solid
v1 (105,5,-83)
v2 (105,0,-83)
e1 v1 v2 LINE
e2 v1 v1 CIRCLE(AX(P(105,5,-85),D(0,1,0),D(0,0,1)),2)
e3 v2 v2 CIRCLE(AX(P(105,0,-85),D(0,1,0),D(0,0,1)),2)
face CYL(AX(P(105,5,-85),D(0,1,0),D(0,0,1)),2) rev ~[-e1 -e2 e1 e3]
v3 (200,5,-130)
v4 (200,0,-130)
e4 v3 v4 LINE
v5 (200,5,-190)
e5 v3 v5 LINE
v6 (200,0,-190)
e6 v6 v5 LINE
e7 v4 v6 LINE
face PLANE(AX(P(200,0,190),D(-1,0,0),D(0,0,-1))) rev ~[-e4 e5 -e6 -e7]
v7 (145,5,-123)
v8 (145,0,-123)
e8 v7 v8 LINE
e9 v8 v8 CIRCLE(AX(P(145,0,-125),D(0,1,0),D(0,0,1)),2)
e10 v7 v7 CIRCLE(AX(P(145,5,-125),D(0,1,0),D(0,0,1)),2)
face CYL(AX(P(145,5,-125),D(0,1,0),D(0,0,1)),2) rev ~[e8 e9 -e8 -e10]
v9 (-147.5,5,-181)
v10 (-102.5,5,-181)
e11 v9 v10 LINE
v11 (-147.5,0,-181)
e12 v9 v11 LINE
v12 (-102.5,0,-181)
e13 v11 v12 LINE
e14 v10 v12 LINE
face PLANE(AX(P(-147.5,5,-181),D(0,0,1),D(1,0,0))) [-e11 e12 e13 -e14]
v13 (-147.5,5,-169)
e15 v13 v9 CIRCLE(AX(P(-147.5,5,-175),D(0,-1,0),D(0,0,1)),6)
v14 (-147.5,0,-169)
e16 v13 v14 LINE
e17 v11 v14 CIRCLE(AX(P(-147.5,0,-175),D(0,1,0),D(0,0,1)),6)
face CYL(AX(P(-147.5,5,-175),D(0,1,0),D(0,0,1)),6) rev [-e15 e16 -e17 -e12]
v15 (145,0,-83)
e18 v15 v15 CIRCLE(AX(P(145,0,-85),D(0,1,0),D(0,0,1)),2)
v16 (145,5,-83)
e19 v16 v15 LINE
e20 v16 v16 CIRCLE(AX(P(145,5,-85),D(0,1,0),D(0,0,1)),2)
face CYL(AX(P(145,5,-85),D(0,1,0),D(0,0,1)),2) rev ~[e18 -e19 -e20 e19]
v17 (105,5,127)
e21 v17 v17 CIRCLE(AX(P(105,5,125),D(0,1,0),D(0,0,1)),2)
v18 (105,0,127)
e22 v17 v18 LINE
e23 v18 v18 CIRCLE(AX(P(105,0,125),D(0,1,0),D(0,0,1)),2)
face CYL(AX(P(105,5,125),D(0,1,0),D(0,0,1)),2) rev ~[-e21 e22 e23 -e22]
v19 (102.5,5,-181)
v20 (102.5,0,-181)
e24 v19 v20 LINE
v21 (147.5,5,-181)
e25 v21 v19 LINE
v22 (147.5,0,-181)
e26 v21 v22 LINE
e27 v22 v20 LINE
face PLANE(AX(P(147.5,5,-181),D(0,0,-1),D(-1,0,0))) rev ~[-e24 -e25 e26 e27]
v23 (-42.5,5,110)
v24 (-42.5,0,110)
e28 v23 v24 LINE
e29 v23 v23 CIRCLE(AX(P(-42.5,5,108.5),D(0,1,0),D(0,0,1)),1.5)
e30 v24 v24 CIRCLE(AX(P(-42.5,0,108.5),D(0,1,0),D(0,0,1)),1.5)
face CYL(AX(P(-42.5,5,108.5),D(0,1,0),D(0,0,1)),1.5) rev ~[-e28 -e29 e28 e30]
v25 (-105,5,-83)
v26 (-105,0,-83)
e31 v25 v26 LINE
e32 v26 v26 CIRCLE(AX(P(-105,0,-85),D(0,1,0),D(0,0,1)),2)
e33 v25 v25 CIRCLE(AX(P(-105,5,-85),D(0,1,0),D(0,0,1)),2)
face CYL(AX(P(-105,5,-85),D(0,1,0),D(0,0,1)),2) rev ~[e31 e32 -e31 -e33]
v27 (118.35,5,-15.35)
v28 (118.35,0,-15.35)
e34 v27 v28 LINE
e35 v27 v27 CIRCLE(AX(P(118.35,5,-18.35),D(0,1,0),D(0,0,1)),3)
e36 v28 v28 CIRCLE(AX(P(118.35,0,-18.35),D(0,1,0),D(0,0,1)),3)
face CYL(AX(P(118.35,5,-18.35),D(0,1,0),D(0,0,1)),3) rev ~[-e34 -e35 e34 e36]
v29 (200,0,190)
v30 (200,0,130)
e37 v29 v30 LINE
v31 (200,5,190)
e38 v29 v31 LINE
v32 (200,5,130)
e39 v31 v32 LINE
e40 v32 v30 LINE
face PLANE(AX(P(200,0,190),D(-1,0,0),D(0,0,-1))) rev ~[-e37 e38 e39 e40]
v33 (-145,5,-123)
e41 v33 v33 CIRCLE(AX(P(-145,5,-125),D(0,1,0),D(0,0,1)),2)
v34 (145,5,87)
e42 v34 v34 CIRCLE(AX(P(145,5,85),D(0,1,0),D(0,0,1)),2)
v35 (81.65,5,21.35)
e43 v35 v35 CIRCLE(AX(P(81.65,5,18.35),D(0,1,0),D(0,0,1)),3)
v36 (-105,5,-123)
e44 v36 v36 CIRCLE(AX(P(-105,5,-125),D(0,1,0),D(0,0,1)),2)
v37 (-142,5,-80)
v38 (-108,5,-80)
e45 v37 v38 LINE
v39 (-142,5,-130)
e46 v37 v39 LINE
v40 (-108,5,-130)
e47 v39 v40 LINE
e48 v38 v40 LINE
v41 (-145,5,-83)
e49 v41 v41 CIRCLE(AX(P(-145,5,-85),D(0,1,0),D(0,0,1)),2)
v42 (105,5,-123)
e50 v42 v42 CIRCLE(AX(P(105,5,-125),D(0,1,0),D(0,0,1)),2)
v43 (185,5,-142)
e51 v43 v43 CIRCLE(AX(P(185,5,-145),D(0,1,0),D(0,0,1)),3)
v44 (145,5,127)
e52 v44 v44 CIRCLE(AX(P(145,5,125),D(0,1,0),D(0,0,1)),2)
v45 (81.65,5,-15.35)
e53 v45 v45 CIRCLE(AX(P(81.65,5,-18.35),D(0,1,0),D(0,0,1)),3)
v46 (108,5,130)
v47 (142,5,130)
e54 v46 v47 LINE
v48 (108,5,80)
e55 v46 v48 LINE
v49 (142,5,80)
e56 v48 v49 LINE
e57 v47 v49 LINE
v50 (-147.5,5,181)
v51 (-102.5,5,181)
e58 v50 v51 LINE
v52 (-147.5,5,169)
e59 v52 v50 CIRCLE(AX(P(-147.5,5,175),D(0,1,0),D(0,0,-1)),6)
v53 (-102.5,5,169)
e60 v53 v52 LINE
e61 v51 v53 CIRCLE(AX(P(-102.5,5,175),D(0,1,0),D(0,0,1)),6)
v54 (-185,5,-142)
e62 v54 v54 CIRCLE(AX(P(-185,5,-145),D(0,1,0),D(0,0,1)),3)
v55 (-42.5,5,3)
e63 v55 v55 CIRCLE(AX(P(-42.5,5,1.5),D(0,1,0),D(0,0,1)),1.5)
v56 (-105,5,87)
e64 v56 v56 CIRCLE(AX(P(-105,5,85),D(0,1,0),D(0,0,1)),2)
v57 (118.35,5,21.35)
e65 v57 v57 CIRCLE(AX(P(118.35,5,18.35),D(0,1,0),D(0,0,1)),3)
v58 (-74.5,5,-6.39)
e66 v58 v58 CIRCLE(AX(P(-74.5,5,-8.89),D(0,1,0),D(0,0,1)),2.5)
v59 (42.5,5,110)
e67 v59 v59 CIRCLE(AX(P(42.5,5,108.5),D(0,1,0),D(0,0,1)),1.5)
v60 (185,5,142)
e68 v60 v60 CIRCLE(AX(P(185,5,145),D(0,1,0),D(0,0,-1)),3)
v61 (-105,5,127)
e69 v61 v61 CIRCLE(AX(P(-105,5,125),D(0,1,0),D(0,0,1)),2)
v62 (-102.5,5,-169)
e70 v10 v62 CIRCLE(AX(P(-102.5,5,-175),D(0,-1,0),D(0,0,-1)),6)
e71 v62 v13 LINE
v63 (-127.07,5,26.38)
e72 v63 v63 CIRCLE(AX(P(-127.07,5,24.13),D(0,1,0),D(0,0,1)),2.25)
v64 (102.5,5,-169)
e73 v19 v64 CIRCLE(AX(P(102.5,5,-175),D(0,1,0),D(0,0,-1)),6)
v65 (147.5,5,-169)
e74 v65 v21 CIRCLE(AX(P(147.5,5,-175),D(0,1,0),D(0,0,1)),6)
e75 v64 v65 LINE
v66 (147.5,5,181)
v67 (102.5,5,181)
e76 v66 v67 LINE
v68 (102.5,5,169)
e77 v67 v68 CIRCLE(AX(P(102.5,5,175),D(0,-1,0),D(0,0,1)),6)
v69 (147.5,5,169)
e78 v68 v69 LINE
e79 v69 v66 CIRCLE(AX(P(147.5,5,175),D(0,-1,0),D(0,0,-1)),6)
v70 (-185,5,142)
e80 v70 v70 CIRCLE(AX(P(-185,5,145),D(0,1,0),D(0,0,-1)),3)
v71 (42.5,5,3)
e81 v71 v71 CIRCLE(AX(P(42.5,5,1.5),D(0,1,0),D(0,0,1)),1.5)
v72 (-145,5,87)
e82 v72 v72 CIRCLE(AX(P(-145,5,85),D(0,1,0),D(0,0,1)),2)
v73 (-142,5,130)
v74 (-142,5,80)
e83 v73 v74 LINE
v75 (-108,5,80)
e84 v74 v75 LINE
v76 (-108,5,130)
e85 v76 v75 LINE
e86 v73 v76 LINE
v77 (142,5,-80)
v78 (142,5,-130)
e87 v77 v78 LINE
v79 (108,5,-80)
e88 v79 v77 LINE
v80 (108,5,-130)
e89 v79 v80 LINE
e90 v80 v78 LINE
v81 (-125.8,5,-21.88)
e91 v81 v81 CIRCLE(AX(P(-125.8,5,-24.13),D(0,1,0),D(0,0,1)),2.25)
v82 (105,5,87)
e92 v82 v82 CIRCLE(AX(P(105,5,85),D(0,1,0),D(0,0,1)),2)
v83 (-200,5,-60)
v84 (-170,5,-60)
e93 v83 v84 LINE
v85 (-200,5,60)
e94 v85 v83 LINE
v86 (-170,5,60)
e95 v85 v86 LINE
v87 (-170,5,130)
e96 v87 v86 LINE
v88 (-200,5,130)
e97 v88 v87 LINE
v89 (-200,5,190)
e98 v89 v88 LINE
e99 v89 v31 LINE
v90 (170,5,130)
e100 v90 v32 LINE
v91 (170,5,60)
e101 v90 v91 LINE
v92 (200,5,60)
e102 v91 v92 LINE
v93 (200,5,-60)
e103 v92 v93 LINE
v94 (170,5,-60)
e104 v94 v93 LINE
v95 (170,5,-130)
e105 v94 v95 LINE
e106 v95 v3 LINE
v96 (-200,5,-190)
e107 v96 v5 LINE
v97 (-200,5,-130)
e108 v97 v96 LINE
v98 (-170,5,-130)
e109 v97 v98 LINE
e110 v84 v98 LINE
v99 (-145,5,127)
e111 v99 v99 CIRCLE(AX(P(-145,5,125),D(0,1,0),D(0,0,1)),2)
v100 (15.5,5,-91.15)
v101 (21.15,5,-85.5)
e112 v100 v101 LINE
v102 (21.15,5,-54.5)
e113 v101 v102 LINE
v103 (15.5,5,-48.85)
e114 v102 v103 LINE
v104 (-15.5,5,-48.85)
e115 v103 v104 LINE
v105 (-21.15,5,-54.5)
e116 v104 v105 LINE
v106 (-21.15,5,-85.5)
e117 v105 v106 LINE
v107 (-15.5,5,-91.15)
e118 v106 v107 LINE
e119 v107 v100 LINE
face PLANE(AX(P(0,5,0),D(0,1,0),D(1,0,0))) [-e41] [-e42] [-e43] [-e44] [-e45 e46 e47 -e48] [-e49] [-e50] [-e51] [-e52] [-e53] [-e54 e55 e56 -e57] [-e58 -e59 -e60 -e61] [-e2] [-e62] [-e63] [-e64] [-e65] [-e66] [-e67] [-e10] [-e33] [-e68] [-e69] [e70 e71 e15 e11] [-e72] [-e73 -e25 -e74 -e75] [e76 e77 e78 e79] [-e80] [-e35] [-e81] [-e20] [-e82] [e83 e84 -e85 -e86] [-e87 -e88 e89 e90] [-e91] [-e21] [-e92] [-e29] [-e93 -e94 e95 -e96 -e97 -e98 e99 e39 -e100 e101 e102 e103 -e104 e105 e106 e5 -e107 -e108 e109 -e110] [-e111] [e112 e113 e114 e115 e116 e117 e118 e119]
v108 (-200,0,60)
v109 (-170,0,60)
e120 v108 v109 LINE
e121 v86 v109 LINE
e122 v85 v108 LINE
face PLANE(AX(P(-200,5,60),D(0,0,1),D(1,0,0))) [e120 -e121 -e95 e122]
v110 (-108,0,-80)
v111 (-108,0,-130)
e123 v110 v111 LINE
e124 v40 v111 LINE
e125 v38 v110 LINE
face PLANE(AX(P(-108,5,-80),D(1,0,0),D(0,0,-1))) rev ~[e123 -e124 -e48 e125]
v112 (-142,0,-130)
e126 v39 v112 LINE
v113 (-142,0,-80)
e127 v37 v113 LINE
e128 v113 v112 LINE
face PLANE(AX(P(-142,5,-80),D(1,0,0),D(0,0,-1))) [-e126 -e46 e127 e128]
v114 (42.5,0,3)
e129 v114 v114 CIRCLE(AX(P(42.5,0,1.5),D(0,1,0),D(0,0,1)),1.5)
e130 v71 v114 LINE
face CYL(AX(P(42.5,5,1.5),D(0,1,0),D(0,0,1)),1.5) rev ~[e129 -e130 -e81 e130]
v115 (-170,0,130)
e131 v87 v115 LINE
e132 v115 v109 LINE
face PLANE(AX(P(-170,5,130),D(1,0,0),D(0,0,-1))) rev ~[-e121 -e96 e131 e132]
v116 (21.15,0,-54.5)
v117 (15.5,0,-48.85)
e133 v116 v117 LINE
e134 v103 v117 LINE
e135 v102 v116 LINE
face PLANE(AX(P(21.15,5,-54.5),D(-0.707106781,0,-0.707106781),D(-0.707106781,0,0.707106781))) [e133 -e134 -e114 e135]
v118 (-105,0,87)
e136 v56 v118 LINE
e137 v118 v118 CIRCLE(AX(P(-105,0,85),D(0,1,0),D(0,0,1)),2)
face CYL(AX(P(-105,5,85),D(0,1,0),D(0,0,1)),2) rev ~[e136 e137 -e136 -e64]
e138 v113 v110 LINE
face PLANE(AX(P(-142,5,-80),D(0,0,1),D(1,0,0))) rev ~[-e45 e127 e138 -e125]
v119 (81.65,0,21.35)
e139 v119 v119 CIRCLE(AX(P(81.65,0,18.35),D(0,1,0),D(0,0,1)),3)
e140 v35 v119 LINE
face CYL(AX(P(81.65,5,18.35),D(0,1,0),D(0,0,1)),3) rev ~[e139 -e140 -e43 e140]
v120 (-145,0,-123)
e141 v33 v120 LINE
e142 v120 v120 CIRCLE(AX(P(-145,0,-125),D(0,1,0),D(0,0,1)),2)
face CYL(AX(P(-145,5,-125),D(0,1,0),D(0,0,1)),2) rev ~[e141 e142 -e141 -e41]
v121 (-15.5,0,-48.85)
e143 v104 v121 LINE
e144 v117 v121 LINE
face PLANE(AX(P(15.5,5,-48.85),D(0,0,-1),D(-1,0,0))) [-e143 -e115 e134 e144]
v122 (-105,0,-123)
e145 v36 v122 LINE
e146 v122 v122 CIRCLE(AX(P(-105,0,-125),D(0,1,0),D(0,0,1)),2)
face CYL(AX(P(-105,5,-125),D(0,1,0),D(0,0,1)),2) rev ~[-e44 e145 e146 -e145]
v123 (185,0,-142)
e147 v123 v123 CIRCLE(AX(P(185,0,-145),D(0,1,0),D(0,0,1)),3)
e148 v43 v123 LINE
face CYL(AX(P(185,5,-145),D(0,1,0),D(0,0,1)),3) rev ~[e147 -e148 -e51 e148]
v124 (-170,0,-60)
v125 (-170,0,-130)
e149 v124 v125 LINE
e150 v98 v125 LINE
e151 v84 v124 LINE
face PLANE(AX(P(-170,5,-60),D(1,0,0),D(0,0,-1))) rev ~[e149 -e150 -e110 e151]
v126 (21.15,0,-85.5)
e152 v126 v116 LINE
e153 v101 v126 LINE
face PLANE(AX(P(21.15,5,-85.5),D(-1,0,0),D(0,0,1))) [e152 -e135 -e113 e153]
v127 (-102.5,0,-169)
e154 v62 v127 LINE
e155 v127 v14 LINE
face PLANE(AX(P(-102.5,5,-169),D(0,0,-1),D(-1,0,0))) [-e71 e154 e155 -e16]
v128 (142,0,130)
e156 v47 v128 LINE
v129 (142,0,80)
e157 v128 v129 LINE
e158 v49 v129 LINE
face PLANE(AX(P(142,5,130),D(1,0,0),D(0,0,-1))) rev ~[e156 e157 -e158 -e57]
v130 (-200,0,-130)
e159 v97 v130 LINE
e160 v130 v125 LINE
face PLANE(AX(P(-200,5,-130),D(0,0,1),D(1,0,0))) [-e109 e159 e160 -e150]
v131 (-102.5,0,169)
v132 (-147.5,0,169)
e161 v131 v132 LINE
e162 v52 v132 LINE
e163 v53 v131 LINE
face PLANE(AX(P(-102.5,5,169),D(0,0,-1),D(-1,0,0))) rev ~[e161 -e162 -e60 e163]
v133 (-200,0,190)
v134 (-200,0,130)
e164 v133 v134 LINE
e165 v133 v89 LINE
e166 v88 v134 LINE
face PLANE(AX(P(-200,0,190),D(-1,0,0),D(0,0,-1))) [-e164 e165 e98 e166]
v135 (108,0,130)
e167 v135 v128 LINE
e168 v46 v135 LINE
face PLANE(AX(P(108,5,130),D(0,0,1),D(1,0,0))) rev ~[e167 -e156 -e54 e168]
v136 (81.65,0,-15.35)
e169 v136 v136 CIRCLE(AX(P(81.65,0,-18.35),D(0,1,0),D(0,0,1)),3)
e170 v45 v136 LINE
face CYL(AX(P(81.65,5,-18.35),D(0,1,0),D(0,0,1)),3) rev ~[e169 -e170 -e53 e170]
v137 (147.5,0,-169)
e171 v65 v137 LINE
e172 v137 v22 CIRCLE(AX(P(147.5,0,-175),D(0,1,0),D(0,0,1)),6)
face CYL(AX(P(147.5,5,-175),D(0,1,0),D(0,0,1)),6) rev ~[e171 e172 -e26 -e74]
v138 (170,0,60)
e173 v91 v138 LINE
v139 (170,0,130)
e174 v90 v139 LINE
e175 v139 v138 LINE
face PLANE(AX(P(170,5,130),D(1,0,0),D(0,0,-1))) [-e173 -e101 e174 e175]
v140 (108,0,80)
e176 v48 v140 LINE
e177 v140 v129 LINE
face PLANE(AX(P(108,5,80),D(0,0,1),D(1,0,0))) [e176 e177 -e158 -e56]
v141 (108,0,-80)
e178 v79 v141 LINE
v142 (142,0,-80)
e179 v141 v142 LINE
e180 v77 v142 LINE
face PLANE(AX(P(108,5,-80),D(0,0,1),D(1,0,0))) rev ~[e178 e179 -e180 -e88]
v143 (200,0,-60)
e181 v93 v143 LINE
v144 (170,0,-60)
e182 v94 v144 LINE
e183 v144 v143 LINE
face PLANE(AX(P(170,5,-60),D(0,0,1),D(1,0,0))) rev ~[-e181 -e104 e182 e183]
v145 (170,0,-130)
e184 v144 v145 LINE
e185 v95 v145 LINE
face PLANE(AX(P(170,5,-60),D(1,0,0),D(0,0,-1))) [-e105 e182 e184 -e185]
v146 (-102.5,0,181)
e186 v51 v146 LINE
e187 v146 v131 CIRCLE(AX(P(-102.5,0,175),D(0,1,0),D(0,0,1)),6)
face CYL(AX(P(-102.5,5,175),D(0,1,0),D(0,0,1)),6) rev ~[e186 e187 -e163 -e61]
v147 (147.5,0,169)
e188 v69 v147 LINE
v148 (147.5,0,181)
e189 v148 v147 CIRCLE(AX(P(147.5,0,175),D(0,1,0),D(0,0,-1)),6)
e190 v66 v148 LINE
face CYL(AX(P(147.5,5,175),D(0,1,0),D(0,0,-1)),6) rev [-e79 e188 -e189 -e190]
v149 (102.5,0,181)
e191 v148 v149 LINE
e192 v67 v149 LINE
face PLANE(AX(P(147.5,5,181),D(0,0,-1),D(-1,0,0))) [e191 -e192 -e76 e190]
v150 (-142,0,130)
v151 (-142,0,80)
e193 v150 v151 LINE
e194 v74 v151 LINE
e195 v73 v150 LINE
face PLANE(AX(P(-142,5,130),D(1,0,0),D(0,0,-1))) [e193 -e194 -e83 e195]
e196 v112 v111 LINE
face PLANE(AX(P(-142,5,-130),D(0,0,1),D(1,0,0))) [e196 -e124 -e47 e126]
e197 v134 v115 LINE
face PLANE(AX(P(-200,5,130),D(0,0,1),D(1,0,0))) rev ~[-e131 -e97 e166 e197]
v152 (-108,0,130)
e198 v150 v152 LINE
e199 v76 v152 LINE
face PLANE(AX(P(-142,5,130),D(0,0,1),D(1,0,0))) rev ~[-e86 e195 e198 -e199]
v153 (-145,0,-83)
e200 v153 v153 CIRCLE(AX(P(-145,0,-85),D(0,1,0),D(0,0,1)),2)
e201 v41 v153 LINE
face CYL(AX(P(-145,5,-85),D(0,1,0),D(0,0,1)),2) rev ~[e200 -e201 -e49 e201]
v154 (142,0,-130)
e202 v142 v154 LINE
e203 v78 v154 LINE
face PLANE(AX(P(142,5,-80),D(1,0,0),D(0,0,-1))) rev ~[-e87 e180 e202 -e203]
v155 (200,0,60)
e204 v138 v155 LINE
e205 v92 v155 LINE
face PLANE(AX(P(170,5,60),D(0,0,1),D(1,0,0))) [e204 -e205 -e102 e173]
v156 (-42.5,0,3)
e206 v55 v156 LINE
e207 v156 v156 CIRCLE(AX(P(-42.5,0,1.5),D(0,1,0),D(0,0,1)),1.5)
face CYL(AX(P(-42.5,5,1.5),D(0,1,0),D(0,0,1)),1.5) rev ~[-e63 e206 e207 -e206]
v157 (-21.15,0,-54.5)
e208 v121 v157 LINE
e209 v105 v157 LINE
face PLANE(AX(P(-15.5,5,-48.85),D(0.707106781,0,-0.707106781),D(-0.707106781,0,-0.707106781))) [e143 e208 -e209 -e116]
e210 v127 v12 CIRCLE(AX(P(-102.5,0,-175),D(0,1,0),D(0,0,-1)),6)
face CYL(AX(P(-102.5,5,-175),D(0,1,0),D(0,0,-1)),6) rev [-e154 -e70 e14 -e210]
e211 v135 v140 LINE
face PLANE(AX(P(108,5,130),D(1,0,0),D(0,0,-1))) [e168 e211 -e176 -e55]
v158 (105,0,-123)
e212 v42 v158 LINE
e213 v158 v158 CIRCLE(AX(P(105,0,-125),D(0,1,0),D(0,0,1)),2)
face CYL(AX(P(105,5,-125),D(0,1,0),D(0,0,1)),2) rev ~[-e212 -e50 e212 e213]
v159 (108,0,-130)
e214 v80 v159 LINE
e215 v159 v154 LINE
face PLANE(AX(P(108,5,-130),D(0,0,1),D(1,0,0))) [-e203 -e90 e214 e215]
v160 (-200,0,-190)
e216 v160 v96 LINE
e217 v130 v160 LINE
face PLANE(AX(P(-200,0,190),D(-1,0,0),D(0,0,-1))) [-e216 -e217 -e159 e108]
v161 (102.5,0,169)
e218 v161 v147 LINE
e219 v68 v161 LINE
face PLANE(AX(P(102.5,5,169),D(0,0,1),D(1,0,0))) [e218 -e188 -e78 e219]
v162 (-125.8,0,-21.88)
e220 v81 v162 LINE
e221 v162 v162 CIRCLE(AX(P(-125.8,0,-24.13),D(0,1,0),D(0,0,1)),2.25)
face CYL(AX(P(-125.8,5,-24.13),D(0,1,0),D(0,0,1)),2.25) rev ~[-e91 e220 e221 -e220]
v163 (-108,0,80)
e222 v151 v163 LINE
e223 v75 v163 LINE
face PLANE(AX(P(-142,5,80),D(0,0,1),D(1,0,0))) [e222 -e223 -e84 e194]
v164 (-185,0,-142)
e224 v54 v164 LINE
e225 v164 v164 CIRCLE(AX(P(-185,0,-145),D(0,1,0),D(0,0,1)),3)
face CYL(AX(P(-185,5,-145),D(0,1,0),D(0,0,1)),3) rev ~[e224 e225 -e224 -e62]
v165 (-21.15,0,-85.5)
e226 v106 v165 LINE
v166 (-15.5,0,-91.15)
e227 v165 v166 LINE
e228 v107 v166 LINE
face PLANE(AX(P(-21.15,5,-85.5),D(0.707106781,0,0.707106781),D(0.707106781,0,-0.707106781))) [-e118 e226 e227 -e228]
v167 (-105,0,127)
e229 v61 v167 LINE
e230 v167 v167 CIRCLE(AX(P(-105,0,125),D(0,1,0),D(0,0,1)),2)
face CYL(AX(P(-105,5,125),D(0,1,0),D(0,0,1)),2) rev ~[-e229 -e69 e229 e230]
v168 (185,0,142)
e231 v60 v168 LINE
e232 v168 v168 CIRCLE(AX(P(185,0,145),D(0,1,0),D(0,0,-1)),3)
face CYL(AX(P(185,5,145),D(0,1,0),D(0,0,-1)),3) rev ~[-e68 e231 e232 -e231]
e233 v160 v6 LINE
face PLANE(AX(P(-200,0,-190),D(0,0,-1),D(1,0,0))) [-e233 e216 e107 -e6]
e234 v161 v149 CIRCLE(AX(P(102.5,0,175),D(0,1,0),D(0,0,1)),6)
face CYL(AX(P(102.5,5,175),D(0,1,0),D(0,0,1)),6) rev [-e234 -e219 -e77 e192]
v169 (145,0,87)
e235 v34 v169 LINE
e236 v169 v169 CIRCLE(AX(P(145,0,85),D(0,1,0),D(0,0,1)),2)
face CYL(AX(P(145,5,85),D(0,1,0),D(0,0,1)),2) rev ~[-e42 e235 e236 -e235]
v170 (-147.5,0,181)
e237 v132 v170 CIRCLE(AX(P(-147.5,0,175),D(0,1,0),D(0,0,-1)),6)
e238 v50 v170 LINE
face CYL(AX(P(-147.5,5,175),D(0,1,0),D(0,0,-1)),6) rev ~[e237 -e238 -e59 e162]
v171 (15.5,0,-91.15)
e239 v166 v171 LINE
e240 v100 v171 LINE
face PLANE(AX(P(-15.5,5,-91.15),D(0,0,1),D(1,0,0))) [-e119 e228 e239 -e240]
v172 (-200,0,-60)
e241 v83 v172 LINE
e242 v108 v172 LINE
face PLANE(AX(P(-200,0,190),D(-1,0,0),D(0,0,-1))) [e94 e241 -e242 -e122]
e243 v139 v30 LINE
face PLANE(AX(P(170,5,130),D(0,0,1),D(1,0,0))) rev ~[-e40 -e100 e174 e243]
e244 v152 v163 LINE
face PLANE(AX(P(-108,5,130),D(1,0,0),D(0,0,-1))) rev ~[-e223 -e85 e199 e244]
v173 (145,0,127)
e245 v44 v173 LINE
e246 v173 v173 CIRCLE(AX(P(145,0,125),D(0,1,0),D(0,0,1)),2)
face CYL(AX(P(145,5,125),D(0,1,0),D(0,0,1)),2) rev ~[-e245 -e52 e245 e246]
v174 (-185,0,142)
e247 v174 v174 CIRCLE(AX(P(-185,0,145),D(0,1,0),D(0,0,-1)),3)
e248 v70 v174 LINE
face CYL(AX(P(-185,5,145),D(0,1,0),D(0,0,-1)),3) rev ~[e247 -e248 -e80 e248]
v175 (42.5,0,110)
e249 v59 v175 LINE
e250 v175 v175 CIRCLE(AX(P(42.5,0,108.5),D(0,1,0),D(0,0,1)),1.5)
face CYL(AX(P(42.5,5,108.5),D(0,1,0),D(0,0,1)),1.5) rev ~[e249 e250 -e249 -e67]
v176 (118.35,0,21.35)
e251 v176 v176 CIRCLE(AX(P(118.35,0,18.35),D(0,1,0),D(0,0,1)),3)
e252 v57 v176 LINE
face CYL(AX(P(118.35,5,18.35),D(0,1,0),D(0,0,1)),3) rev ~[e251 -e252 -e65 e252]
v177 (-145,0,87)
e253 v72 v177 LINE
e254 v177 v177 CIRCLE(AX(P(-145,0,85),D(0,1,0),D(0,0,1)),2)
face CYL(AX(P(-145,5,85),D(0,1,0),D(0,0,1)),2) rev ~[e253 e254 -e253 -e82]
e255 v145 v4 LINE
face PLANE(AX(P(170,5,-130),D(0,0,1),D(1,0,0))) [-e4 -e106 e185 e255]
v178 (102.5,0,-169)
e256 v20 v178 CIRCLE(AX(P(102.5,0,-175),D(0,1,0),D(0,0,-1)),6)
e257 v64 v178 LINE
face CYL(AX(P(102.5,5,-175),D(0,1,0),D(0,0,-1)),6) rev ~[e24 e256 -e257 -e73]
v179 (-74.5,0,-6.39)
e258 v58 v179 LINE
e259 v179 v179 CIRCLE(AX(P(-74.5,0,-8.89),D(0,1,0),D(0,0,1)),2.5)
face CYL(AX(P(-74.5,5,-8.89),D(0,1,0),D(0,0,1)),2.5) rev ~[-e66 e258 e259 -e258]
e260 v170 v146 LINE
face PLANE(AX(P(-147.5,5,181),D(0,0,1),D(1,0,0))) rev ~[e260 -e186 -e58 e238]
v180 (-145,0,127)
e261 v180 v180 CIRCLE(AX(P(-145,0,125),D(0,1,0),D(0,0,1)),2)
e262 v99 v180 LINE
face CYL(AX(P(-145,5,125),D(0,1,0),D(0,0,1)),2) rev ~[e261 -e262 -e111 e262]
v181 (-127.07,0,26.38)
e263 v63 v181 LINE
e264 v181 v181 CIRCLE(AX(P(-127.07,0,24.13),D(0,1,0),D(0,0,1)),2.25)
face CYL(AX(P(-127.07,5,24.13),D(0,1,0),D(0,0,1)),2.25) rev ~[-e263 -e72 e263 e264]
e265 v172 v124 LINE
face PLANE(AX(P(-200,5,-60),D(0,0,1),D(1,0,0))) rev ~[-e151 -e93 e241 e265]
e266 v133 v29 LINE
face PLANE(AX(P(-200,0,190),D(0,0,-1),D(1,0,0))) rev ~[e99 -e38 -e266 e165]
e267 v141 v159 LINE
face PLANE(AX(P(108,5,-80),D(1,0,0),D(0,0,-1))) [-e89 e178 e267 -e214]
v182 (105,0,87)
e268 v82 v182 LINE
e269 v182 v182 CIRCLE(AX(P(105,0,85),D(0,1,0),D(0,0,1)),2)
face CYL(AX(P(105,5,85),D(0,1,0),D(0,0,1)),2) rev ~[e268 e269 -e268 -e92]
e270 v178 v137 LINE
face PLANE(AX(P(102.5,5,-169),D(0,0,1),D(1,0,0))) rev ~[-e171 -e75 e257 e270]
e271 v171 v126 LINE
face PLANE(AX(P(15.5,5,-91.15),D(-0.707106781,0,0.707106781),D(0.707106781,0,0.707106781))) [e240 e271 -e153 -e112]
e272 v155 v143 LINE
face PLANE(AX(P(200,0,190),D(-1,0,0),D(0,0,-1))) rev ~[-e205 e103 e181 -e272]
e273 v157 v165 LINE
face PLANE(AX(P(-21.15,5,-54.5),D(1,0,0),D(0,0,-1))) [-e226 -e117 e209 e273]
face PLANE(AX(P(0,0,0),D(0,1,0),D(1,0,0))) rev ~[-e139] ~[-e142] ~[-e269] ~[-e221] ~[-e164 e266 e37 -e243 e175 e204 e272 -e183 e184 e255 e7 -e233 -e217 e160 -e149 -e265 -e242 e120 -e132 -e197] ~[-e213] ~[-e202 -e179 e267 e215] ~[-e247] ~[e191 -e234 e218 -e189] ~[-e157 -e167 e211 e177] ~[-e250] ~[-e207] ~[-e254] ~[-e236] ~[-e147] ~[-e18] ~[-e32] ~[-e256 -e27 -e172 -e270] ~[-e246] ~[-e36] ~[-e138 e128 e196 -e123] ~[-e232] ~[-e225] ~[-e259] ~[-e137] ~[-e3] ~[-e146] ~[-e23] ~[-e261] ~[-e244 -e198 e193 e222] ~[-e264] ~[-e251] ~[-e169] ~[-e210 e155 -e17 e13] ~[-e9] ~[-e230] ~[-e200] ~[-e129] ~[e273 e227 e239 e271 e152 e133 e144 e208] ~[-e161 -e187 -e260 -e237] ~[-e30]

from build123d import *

# Parameters (mm, degrees)
SKETCH_1_W          = 400
SKETCH_1_H          = 380
EXTRUDE_1_DEPTH     = 5
SKETCH_2_R          = 2.25
SKETCH_2_R_2        = 2.5
SKETCH_2_R_3        = 3
SKETCH_2_R_4        = 2
SKETCH_2_R_5        = 1.5
SKETCH_2_W          = 30
SKETCH_2_H          = 70
SKETCH_2_W_2        = 34
SKETCH_2_H_2        = 50
CUT_EXTRUDE_1_DEPTH = 276.907593226


with BuildPart() as part:
    # 草圖1 → 填料-伸長1 (new body)
    with BuildSketch(Plane(origin=(0, 0, 0), x_dir=(1, 0, 0), z_dir=(0, 1, 0))):
        Rectangle(SKETCH_1_W, SKETCH_1_H)
    extrude(amount=EXTRUDE_1_DEPTH)

    # 草圖2 → 除料-伸長1 (cut, through all)
    with BuildSketch(Plane(origin=(0, 5, 0), x_dir=(1, 0, 0), z_dir=(0, 1, 0))):
        with Locations(Location((-127.07, -24.13, 0), (0, 0, 270))):
            Circle(SKETCH_2_R)
        with Locations(Location((-125.8, 24.13, 0), (0, 0, 270))):
            Circle(SKETCH_2_R)
        with Locations(Location((-74.5, 8.89, 0), (0, 0, 270))):
            Circle(SKETCH_2_R_2)
        with Locations(Location((-185, 145, 0), (0, 0, 270))):
            Circle(SKETCH_2_R_3)
        with Locations(Location((185, 145, 0), (0, 0, 270))):
            Circle(SKETCH_2_R_3)
        with Locations(Location((-185, -145, 0), (0, 0, 90))):
            Circle(SKETCH_2_R_3)
        with Locations(Location((185, -145, 0), (0, 0, 90))):
            Circle(SKETCH_2_R_3)
        with Locations(Location((81.65, 18.35, 0), (0, 0, 270))):
            Circle(SKETCH_2_R_3)
        with Locations(Location((118.35, 18.35, 0), (0, 0, 270))):
            Circle(SKETCH_2_R_3)
        with Locations(Location((81.65, -18.35, 0), (0, 0, 270))):
            Circle(SKETCH_2_R_3)
        with Locations(Location((118.35, -18.35, 0), (0, 0, 270))):
            Circle(SKETCH_2_R_3)
        with Locations(Location((-145, -85, 0), (0, 0, 270))):
            Circle(SKETCH_2_R_4)
        with Locations(Location((-105, -85, 0), (0, 0, 270))):
            Circle(SKETCH_2_R_4)
        with Locations(Location((-145, -125, 0), (0, 0, 270))):
            Circle(SKETCH_2_R_4)
        with Locations(Location((-105, -125, 0), (0, 0, 270))):
            Circle(SKETCH_2_R_4)
        with Locations(Location((105, -85, 0), (0, 0, 270))):
            Circle(SKETCH_2_R_4)
        with Locations(Location((145, -85, 0), (0, 0, 270))):
            Circle(SKETCH_2_R_4)
        with Locations(Location((105, -125, 0), (0, 0, 270))):
            Circle(SKETCH_2_R_4)
        with Locations(Location((145, -125, 0), (0, 0, 270))):
            Circle(SKETCH_2_R_4)
        with Locations(Location((-145, 125, 0), (0, 0, 270))):
            Circle(SKETCH_2_R_4)
        with Locations(Location((-105, 125, 0), (0, 0, 270))):
            Circle(SKETCH_2_R_4)
        with Locations(Location((-145, 85, 0), (0, 0, 270))):
            Circle(SKETCH_2_R_4)
        with Locations(Location((-105, 85, 0), (0, 0, 270))):
            Circle(SKETCH_2_R_4)
        with Locations(Location((105, 125, 0), (0, 0, 270))):
            Circle(SKETCH_2_R_4)
        with Locations(Location((145, 125, 0), (0, 0, 270))):
            Circle(SKETCH_2_R_4)
        with Locations(Location((105, 85, 0), (0, 0, 270))):
            Circle(SKETCH_2_R_4)
        with Locations(Location((145, 85, 0), (0, 0, 270))):
            Circle(SKETCH_2_R_4)
        with Locations(Location((-42.5, -1.5, 0), (0, 0, 270))):
            Circle(SKETCH_2_R_5)
        with Locations(Location((42.5, -1.5, 0), (0, 0, 270))):
            Circle(SKETCH_2_R_5)
        with Locations(Location((-42.5, -108.5, 0), (0, 0, 270))):
            Circle(SKETCH_2_R_5)
        with Locations(Location((42.5, -108.5, 0), (0, 0, 270))):
            Circle(SKETCH_2_R_5)
        with Locations((185, -95)):
            Rectangle(SKETCH_2_W, SKETCH_2_H)
        with Locations((-185, 95)):
            Rectangle(SKETCH_2_W, SKETCH_2_H)
        with Locations((-185, -95)):
            Rectangle(SKETCH_2_W, SKETCH_2_H)
        with Locations((185, 95)):
            Rectangle(SKETCH_2_W, SKETCH_2_H)
        with Locations((-125, -105)):
            Rectangle(SKETCH_2_W_2, SKETCH_2_H_2)
        with Locations((125, -105)):
            Rectangle(SKETCH_2_W_2, SKETCH_2_H_2)
        with Locations((-125, 105)):
            Rectangle(SKETCH_2_W_2, SKETCH_2_H_2)
        with Locations((125, 105)):
            Rectangle(SKETCH_2_W_2, SKETCH_2_H_2)
        Polygon((-21.15, 85.5), (-15.5, 91.15), (15.5, 91.15), (21.15, 85.5), (21.15, 54.5), (15.5, 48.85), (-15.5, 48.85), (-21.15, 54.5), align=None)
        with BuildLine():
            Line((-214.88693476, -145), (-214.88693476, -175))
            ThreePointArc((-214.88693476, -175), (-234.88693476, -195), (-254.88693476, -175))
            Line((-254.88693476, -175), (-254.88693476, -145))
            ThreePointArc((-254.88693476, -145), (-234.88693476, -125), (-214.88693476, -145))
        make_face()
        with BuildLine():
            Line((-214.88693476, 145), (-214.88693476, 175))
            ThreePointArc((-214.88693476, 175), (-234.88693476, 195), (-254.88693476, 175))
            Line((-254.88693476, 175), (-254.88693476, 145))
            ThreePointArc((-254.88693476, 145), (-234.88693476, 125), (-214.88693476, 145))
        make_face()
        with BuildLine():
            Line((214.88693476, -145), (214.88693476, -175))
            ThreePointArc((214.88693476, -175), (234.88693476, -195), (254.88693476, -175))
            Line((254.88693476, -175), (254.88693476, -145))
            ThreePointArc((254.88693476, -145), (234.88693476, -125), (214.88693476, -145))
        make_face()
        with BuildLine():
            Line((214.88693476, 145), (214.88693476, 175))
            ThreePointArc((214.88693476, 175), (234.88693476, 195), (254.88693476, 175))
            Line((254.88693476, 175), (254.88693476, 145))
            ThreePointArc((254.88693476, 145), (234.88693476, 125), (214.88693476, 145))
        make_face()
        with BuildLine():
            Line((-147.5, 181), (-102.5, 181))
            ThreePointArc((-102.5, 181), (-96.5, 175), (-102.5, 169))
            Line((-102.5, 169), (-147.5, 169))
            ThreePointArc((-147.5, 169), (-153.5, 175), (-147.5, 181))
        make_face()
        with BuildLine():
            Line((-147.5, -181), (-102.5, -181))
            ThreePointArc((-102.5, -181), (-96.5, -175), (-102.5, -169))
            Line((-102.5, -169), (-147.5, -169))
            ThreePointArc((-147.5, -169), (-153.5, -175), (-147.5, -181))
        make_face()
        with BuildLine():
            Line((147.5, 181), (102.5, 181))
            ThreePointArc((102.5, 181), (96.5, 175), (102.5, 169))
            Line((102.5, 169), (147.5, 169))
            ThreePointArc((147.5, 169), (153.5, 175), (147.5, 181))
        make_face()
        with BuildLine():
            Line((147.5, -181), (102.5, -181))
            ThreePointArc((102.5, -181), (96.5, -175), (102.5, -169))
            Line((102.5, -169), (147.5, -169))
            ThreePointArc((147.5, -169), (153.5, -175), (147.5, -181))
        make_face()
    extrude(amount=-CUT_EXTRUDE_1_DEPTH, mode=Mode.SUBTRACT)


solid = part.part
